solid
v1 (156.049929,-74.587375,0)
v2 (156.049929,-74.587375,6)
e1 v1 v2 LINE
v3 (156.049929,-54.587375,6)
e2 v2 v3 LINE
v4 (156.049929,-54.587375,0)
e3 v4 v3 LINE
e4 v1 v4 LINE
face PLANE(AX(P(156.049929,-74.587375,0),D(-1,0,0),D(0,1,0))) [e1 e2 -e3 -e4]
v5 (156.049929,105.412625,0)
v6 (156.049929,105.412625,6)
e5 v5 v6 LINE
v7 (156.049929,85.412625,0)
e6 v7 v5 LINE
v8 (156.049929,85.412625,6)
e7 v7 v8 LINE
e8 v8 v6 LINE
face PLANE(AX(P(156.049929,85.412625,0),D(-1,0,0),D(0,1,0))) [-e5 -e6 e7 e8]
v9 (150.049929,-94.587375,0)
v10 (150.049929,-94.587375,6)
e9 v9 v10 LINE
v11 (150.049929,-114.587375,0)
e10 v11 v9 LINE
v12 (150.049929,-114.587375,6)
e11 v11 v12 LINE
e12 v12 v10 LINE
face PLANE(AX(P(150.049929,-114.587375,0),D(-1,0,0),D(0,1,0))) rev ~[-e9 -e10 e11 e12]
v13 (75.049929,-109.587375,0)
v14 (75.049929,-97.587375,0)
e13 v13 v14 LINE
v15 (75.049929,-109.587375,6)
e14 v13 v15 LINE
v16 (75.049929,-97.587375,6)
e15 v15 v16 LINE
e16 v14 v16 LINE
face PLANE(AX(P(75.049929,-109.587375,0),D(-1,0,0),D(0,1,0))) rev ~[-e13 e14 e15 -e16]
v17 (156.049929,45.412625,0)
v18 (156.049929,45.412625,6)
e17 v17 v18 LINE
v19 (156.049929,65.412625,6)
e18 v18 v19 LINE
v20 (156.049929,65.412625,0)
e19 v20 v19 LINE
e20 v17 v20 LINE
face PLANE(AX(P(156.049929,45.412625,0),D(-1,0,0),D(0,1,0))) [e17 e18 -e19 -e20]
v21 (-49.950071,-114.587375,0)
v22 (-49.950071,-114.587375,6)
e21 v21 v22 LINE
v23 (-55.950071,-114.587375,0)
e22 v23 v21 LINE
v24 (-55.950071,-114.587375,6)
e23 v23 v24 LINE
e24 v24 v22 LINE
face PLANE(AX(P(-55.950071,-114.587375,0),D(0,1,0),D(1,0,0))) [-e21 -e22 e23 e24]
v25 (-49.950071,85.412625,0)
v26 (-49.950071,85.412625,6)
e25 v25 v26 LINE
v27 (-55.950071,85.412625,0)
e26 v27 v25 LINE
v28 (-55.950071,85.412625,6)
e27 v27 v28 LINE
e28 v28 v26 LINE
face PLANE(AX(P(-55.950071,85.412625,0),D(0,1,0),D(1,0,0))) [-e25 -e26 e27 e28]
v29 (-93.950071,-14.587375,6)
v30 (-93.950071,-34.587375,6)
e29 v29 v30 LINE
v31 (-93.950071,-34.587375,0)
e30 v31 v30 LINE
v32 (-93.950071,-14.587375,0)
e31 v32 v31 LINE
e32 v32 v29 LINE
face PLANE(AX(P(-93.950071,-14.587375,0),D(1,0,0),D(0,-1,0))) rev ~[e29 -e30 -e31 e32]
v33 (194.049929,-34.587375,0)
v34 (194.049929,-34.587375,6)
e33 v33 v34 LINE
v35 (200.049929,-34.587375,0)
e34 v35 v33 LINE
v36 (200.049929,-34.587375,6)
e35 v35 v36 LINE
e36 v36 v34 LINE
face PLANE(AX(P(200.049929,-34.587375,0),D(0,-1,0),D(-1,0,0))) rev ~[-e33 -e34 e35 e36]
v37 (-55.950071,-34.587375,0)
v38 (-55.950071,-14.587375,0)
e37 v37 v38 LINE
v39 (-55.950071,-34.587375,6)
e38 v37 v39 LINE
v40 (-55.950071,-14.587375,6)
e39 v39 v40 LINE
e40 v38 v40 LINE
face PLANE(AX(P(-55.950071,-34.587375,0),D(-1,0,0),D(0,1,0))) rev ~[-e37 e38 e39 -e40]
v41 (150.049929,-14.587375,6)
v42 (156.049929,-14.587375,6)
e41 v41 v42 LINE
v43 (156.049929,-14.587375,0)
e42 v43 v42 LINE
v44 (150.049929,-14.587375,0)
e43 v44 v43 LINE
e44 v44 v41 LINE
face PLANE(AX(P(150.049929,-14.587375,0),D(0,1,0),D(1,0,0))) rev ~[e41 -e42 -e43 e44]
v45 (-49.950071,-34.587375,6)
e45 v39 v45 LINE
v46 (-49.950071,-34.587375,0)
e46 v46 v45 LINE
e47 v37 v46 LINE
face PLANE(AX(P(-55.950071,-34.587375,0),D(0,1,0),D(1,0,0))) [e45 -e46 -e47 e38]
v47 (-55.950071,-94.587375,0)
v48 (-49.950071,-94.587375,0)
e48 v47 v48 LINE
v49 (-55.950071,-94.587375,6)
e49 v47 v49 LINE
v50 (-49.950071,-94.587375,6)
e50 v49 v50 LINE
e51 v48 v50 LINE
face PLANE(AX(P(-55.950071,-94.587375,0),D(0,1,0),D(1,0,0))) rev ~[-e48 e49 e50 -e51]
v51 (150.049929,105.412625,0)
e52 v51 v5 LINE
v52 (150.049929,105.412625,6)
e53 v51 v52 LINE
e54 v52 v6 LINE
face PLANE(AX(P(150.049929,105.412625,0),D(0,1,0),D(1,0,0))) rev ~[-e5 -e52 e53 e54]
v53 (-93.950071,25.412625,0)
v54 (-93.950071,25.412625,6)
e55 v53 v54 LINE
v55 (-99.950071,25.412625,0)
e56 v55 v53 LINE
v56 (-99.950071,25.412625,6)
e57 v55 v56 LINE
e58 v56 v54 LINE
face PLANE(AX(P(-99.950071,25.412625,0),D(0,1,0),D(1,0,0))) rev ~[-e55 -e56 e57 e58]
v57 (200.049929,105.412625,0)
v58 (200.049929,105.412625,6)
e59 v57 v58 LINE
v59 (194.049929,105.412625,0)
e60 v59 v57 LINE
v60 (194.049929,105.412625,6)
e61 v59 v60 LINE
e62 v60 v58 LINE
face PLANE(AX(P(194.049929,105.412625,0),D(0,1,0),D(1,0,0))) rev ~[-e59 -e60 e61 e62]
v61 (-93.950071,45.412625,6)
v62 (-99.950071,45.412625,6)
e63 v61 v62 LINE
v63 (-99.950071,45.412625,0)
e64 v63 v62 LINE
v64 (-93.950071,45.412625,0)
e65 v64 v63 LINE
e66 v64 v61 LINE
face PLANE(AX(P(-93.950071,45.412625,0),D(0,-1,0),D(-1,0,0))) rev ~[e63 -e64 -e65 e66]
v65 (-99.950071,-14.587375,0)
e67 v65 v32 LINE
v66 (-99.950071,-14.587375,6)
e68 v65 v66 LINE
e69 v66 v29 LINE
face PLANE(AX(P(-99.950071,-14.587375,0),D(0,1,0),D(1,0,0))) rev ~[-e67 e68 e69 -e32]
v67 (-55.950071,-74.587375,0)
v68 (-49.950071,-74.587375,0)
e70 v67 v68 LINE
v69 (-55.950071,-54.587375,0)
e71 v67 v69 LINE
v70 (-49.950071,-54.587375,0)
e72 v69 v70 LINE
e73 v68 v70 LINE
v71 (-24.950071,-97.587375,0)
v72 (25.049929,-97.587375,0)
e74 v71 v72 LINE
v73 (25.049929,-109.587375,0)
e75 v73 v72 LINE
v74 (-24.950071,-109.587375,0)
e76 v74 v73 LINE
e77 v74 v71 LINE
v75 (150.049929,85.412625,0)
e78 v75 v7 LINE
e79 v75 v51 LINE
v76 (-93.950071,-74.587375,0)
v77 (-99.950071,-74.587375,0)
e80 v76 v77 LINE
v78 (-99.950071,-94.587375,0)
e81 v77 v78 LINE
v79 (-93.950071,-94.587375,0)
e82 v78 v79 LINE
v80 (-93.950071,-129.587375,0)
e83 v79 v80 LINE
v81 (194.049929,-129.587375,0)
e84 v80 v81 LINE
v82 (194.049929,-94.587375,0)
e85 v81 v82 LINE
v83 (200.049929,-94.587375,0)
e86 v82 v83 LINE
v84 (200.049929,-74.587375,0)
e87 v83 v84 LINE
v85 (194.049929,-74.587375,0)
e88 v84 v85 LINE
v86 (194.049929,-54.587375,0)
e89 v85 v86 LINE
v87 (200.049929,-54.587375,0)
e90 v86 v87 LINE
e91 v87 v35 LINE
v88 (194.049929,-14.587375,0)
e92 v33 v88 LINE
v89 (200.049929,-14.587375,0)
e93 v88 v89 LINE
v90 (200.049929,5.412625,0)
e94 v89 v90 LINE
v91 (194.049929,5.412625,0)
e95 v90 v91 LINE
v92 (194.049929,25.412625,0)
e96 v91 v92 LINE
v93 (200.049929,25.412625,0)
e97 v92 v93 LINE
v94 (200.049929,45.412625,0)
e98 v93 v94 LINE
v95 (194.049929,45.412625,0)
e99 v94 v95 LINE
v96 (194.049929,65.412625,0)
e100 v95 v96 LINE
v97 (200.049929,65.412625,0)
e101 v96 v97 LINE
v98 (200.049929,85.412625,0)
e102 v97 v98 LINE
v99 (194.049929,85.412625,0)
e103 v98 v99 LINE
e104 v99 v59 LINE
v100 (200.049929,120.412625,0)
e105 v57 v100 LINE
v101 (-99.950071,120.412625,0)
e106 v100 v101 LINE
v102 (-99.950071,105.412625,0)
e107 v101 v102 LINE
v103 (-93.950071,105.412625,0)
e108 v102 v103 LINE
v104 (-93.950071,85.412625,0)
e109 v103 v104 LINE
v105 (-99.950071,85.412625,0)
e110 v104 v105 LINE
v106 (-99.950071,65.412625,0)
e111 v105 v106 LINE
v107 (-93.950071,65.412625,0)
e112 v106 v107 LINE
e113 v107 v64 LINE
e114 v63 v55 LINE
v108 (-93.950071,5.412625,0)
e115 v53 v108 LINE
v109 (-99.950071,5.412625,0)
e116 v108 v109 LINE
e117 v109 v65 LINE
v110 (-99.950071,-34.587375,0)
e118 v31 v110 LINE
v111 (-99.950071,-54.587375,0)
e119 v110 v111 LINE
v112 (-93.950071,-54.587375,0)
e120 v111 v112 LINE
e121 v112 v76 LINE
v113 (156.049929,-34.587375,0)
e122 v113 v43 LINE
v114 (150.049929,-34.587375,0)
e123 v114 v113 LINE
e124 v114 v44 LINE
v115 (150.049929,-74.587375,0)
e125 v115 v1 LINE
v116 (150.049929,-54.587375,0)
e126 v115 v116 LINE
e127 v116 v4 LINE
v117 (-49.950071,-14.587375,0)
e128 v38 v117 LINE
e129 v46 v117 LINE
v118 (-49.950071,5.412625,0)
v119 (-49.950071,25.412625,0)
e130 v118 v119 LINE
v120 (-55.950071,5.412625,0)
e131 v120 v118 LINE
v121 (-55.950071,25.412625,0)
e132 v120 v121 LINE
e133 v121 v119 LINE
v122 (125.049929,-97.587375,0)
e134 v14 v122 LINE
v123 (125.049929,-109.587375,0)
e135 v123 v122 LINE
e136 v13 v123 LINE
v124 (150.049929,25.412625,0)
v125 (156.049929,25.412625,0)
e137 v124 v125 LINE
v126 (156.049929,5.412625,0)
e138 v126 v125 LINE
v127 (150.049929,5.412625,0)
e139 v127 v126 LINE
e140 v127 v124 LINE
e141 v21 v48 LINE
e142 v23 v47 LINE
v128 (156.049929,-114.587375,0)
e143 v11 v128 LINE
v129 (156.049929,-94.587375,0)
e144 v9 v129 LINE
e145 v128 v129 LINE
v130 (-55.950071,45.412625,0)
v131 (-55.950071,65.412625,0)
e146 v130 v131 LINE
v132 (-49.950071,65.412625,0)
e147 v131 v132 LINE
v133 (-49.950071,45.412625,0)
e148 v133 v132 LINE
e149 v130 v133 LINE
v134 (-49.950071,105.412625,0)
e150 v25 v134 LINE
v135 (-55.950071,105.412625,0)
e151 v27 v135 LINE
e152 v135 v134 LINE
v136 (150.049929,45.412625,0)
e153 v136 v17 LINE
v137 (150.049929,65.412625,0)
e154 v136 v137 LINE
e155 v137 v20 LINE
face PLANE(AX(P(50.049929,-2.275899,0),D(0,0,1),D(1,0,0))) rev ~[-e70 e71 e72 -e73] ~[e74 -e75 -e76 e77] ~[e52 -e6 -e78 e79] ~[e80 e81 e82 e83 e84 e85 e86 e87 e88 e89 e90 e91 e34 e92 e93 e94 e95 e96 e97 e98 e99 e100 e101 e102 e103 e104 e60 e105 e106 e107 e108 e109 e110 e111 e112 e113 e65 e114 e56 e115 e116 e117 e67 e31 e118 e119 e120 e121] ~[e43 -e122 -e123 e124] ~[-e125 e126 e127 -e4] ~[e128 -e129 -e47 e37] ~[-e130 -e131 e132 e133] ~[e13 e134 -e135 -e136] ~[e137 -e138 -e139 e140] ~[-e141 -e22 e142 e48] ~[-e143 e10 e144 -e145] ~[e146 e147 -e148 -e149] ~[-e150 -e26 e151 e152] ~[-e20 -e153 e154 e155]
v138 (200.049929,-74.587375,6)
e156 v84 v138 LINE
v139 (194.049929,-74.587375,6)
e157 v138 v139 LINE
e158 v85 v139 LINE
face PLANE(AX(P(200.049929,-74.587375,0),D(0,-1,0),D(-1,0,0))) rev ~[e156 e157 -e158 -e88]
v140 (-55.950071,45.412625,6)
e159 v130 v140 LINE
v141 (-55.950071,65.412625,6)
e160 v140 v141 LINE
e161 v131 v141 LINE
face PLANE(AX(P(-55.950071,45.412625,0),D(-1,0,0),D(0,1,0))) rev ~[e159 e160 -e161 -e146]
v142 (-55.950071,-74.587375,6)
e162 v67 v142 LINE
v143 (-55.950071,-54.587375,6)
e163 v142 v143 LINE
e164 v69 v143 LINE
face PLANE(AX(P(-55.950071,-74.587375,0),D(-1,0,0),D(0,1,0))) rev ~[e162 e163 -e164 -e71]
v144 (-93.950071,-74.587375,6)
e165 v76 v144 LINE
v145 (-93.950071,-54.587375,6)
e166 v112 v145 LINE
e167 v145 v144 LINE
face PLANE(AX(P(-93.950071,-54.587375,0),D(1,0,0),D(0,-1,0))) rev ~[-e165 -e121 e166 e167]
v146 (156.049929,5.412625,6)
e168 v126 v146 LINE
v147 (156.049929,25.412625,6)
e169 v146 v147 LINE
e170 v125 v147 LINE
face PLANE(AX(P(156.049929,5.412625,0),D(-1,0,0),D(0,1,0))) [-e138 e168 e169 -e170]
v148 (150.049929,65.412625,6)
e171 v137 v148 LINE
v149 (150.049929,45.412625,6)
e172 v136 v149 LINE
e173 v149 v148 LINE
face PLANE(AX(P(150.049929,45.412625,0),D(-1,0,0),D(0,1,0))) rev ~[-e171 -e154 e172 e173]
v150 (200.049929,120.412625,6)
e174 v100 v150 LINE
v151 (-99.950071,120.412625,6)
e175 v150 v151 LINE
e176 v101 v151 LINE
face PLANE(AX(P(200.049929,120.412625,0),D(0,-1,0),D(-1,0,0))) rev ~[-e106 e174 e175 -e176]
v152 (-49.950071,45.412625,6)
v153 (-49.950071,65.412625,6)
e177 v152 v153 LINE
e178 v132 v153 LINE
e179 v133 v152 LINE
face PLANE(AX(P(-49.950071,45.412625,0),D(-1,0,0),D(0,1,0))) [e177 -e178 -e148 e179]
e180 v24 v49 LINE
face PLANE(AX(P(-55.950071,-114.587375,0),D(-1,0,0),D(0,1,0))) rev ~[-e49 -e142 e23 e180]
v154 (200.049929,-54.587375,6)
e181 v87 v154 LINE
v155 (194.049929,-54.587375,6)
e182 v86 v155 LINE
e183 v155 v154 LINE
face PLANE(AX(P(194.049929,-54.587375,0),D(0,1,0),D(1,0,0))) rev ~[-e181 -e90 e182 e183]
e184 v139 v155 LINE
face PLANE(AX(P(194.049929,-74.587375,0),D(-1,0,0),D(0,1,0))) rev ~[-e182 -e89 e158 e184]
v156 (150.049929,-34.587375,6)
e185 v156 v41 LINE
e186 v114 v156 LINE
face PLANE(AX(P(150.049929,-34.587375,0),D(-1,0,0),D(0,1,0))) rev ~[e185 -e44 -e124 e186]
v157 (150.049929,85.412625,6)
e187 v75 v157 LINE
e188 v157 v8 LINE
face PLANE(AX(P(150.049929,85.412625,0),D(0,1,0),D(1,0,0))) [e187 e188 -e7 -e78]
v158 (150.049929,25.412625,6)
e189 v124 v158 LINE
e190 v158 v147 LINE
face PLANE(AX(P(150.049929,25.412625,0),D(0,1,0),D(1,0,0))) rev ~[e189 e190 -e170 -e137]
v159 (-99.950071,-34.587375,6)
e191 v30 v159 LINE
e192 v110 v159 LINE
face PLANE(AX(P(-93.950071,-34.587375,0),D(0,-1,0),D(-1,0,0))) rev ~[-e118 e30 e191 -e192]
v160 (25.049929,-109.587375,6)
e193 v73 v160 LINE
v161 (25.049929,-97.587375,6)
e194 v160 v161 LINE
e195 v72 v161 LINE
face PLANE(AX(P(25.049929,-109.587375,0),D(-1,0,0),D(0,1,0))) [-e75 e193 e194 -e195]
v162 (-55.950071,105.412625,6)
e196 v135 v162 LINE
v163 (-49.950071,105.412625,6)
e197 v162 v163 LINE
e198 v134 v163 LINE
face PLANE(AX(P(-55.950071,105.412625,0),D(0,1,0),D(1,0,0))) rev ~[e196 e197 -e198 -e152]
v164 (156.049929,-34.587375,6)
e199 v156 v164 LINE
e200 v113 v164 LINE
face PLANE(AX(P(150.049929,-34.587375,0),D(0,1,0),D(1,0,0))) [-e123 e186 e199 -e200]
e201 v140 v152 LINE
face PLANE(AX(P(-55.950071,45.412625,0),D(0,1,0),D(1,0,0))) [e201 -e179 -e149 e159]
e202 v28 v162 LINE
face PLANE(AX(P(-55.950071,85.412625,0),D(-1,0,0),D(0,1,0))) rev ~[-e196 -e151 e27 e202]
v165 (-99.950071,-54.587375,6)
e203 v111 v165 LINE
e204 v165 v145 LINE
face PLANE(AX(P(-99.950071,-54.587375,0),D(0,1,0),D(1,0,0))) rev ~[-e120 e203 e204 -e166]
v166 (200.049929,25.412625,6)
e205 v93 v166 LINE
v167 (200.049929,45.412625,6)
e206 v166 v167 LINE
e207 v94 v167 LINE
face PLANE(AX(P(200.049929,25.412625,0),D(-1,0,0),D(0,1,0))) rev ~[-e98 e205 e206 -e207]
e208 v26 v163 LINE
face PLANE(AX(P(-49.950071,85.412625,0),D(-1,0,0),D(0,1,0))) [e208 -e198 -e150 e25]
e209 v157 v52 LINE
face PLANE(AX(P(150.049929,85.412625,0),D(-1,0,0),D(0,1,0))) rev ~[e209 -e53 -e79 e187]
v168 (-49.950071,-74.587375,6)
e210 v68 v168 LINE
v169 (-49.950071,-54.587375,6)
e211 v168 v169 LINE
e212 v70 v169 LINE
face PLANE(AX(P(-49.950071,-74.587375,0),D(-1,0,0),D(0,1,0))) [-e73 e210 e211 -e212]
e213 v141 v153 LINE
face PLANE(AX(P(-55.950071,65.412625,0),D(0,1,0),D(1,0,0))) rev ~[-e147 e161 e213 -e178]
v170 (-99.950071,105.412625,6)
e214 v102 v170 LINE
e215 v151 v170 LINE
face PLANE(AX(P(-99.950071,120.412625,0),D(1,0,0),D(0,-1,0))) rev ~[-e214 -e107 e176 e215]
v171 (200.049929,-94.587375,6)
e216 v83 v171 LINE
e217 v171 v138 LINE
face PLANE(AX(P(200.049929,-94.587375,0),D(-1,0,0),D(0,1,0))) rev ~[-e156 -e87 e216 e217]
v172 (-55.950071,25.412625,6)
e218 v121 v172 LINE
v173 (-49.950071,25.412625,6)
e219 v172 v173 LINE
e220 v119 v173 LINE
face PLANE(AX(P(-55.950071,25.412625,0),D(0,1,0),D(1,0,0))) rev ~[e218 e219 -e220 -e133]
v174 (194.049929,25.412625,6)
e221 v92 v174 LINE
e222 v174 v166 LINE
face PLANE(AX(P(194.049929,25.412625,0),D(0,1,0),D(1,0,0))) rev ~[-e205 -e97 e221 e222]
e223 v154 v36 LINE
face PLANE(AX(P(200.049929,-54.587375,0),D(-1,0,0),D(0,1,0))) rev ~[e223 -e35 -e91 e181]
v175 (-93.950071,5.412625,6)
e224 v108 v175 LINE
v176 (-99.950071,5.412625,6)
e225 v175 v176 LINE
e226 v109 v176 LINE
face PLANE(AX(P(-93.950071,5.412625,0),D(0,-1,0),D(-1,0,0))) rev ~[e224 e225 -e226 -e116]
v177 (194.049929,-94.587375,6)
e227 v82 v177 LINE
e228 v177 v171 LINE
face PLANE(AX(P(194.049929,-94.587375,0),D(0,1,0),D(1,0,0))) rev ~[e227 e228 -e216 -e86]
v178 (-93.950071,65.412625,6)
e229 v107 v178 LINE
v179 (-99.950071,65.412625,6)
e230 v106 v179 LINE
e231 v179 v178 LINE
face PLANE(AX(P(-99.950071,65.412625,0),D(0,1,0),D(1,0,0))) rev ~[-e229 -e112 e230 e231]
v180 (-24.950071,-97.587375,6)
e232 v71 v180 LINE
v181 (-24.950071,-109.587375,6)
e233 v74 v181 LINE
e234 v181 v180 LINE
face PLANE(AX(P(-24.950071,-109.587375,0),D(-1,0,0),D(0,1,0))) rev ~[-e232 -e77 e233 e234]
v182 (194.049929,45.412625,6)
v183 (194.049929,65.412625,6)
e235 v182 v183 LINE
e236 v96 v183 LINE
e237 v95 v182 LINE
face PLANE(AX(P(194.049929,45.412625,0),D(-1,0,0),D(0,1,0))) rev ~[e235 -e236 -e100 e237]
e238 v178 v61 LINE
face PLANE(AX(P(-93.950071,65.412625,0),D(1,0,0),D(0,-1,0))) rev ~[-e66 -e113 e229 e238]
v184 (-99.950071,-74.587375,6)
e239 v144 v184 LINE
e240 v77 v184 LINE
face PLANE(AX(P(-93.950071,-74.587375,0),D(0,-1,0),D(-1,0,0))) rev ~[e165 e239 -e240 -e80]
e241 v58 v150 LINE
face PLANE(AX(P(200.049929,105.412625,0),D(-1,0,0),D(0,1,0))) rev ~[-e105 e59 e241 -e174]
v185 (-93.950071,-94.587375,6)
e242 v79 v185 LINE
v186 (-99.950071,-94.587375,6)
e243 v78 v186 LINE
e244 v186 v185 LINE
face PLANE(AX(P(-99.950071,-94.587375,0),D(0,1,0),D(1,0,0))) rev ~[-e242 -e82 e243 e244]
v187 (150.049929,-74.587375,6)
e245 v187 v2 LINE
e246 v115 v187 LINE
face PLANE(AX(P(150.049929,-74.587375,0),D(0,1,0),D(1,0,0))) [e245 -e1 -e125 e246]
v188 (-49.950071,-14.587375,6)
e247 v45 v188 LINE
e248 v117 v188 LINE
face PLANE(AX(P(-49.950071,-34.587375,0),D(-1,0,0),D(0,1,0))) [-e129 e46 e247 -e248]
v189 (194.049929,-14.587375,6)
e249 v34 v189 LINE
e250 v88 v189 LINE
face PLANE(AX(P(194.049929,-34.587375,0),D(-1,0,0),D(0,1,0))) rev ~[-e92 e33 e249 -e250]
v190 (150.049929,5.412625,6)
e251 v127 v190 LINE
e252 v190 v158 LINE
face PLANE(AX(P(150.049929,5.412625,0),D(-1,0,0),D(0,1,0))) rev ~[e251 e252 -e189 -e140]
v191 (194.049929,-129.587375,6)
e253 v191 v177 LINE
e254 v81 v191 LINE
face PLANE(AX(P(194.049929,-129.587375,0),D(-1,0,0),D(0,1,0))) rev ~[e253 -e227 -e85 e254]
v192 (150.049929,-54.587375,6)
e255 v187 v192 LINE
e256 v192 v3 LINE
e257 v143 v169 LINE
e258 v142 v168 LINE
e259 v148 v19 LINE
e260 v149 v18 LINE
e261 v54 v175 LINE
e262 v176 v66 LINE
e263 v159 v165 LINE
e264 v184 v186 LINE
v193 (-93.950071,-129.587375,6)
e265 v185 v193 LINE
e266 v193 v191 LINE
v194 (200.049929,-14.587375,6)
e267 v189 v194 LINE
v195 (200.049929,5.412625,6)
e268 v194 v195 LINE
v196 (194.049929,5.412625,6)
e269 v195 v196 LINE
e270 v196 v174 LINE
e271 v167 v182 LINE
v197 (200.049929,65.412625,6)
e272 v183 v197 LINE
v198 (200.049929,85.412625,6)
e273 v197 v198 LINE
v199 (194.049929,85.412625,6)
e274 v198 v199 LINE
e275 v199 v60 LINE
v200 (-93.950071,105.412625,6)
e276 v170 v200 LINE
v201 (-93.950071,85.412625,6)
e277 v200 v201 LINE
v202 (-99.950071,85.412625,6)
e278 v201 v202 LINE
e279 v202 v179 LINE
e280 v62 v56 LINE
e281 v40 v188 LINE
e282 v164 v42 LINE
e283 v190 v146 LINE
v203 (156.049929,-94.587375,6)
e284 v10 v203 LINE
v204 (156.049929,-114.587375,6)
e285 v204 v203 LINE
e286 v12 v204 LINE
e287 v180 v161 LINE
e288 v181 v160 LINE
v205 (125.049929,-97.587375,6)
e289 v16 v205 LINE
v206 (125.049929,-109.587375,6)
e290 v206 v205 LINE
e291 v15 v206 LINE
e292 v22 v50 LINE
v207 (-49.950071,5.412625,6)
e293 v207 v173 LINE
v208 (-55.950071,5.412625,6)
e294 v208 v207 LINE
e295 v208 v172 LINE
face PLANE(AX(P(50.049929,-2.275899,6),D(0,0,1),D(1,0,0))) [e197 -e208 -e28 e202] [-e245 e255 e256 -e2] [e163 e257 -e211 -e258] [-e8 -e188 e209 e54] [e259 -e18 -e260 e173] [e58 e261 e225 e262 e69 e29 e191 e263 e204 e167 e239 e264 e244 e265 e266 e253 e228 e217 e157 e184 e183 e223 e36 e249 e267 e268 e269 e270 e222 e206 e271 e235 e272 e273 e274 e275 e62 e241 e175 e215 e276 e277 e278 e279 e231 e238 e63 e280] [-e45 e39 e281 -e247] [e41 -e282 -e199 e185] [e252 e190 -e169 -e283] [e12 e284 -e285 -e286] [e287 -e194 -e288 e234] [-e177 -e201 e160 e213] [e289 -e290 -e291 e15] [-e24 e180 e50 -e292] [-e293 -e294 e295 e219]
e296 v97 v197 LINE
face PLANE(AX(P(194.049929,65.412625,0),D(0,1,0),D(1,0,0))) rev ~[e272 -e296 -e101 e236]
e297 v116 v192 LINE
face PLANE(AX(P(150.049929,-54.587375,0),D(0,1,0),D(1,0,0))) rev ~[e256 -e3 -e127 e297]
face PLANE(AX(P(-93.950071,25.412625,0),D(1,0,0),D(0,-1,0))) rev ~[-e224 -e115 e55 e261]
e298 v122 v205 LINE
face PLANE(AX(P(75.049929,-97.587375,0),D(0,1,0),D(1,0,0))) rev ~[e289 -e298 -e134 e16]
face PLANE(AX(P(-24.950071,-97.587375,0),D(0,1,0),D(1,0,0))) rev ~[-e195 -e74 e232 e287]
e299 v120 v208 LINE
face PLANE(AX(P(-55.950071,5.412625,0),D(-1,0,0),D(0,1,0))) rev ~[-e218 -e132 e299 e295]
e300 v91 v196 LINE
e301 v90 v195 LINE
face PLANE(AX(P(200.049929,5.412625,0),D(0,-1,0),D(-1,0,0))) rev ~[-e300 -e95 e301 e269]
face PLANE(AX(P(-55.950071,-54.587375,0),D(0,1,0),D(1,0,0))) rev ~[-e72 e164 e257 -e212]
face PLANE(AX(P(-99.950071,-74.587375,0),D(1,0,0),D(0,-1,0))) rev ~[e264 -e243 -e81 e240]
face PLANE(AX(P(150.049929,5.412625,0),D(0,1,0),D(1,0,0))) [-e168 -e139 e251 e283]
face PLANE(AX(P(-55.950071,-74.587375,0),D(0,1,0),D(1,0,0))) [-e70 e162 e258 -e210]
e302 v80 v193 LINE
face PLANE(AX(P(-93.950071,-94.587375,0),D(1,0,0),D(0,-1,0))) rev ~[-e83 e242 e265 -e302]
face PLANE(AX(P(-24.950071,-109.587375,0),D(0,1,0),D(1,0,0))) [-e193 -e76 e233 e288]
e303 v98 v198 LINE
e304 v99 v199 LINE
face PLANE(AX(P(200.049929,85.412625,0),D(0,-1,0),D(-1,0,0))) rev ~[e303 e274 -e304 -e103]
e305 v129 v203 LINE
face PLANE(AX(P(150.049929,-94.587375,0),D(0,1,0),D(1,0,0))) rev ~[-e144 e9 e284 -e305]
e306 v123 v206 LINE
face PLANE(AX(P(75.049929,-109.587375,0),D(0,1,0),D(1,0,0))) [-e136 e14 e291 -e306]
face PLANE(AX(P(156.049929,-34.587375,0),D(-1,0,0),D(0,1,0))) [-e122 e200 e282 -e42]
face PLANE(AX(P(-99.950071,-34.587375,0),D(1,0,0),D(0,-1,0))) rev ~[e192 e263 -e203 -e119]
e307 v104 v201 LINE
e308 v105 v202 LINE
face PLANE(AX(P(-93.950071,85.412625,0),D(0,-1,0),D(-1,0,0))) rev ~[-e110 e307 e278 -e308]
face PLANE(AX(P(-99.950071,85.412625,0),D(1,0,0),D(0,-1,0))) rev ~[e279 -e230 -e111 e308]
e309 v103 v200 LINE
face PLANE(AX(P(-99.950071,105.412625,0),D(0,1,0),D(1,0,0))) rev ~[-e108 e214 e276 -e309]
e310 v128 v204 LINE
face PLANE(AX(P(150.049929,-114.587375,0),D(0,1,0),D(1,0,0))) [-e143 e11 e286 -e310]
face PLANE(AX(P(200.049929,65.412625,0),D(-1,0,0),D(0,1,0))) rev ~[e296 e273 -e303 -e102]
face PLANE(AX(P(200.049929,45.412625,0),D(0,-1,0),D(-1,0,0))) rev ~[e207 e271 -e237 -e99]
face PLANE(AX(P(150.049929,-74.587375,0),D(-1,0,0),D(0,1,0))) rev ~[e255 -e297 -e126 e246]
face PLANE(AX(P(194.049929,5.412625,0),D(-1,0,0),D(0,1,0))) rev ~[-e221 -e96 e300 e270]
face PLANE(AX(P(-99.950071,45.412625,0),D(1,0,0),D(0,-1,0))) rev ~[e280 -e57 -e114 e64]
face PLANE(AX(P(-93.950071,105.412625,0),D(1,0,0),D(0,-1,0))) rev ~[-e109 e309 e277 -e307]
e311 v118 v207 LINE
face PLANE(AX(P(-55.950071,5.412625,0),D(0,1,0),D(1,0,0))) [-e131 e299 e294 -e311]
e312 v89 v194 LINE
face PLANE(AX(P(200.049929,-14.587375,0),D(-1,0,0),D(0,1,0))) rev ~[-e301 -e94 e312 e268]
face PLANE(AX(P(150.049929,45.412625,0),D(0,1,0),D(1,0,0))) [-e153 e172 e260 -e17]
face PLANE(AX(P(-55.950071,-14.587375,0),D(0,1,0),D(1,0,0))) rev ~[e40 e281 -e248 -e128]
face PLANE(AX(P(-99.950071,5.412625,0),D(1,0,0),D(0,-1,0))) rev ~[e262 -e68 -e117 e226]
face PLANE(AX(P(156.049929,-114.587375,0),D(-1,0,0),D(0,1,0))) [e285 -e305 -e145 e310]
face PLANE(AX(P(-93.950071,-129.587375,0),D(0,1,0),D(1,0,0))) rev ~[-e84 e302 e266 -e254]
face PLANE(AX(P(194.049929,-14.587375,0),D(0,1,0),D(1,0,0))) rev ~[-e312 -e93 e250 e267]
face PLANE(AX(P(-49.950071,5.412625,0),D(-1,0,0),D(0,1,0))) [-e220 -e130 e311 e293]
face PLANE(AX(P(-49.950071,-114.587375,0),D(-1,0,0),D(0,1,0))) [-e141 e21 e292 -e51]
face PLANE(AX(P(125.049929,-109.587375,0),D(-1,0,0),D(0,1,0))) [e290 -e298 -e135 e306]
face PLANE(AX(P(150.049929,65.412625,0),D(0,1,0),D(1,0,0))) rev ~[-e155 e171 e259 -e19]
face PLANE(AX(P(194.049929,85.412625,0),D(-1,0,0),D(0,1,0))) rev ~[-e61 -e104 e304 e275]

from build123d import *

# Parameters (mm, degrees)
SKETCH_1_W      = 50
SKETCH_1_H      = 12
SKETCH_1_W_2    = 6
SKETCH_1_H_2    = 20
EXTRUDE_1_DEPTH = 6


with BuildPart() as part:
    # 草图1 → 凸台-拉伸1 (new body)
    with BuildSketch(Plane.XY):
        Polygon((-99.950071484, 5.412625096), (-99.950071484, -14.587374904), (-93.950071484, -14.587374904), (-93.950071484, -34.587374904), (-99.950071484, -34.587374904), (-99.950071484, -54.587374904), (-93.950071484, -54.587374904), (-93.950071484, -74.587374904), (-99.950071484, -74.587374904), (-99.950071484, -94.587374904), (-93.950071484, -94.587374904), (-93.950071484, -129.587374904), (194.049928516, -129.587374904), (194.049928516, -94.587374904), (200.049928516, -94.587374904), (200.049928516, -74.587374904), (194.049928516, -74.587374904), (194.049928516, -54.587374904), (200.049928516, -54.587374904), (200.049928516, -34.587374904), (194.049928516, -34.587374904), (194.049928516, -14.587374904), (200.049928516, -14.587374904), (200.049928516, 5.412625096), (194.049928516, 5.412625096), (194.049928516, 25.412625096), (200.049928516, 25.412625096), (200.049928516, 45.412625096), (194.049928516, 45.412625096), (194.049928516, 65.412625096), (200.049928516, 65.412625096), (200.049928516, 85.412625096), (194.049928516, 85.412625096), (194.049928516, 105.412625096), (200.049928516, 105.412625096), (200.049928516, 120.412625096), (194.049928516, 120.412625096), (-93.950071484, 120.412625096), (-99.950071484, 120.412625096), (-99.950071484, 105.412625096), (-93.950071484, 105.412625096), (-93.950071484, 85.412625096), (-99.950071484, 85.412625096), (-99.950071484, 65.412625096), (-93.950071484, 65.412625096), (-93.950071484, 45.412625096), (-99.950071484, 45.412625096), (-99.950071484, 25.412625096), (-93.950071484, 25.412625096), (-93.950071484, 5.412625096), align=None)
        with Locations((100.049928516, -103.587374904)):
            Rectangle(SKETCH_1_W, SKETCH_1_H, mode=Mode.SUBTRACT)
        with Locations((153.049928516, 15.412625096)):
            Rectangle(SKETCH_1_W_2, SKETCH_1_H_2, mode=Mode.SUBTRACT)
        with Locations((153.049928516, -64.587374904)):
            Rectangle(SKETCH_1_W_2, SKETCH_1_H_2, mode=Mode.SUBTRACT)
        with Locations((153.049928516, 55.412625096)):
            Rectangle(SKETCH_1_W_2, SKETCH_1_H_2, mode=Mode.SUBTRACT)
        with Locations((153.049928516, -104.587374904)):
            Rectangle(SKETCH_1_W_2, SKETCH_1_H_2, mode=Mode.SUBTRACT)
        with Locations((153.049928516, 95.412625096)):
            Rectangle(SKETCH_1_W_2, SKETCH_1_H_2, mode=Mode.SUBTRACT)
        with Locations((153.049928516, -24.587374904)):
            Rectangle(SKETCH_1_W_2, SKETCH_1_H_2, mode=Mode.SUBTRACT)
        with Locations((-52.950071484, -24.587374904)):
            Rectangle(SKETCH_1_W_2, SKETCH_1_H_2, mode=Mode.SUBTRACT)
        with Locations((-52.950071484, -64.587374904)):
            Rectangle(SKETCH_1_W_2, SKETCH_1_H_2, mode=Mode.SUBTRACT)
        with Locations((-52.950071484, -104.587374904)):
            Rectangle(SKETCH_1_W_2, SKETCH_1_H_2, mode=Mode.SUBTRACT)
        with Locations((-52.950071484, 55.412625096)):
            Rectangle(SKETCH_1_W_2, SKETCH_1_H_2, mode=Mode.SUBTRACT)
        with Locations((-52.950071484, 95.412625096)):
            Rectangle(SKETCH_1_W_2, SKETCH_1_H_2, mode=Mode.SUBTRACT)
        with Locations((-52.950071484, 15.412625096)):
            Rectangle(SKETCH_1_W_2, SKETCH_1_H_2, mode=Mode.SUBTRACT)
        with Locations((0.049928516, -103.587374904)):
            Rectangle(SKETCH_1_W, SKETCH_1_H, mode=Mode.SUBTRACT)
    extrude(amount=EXTRUDE_1_DEPTH)


solid = part.part
